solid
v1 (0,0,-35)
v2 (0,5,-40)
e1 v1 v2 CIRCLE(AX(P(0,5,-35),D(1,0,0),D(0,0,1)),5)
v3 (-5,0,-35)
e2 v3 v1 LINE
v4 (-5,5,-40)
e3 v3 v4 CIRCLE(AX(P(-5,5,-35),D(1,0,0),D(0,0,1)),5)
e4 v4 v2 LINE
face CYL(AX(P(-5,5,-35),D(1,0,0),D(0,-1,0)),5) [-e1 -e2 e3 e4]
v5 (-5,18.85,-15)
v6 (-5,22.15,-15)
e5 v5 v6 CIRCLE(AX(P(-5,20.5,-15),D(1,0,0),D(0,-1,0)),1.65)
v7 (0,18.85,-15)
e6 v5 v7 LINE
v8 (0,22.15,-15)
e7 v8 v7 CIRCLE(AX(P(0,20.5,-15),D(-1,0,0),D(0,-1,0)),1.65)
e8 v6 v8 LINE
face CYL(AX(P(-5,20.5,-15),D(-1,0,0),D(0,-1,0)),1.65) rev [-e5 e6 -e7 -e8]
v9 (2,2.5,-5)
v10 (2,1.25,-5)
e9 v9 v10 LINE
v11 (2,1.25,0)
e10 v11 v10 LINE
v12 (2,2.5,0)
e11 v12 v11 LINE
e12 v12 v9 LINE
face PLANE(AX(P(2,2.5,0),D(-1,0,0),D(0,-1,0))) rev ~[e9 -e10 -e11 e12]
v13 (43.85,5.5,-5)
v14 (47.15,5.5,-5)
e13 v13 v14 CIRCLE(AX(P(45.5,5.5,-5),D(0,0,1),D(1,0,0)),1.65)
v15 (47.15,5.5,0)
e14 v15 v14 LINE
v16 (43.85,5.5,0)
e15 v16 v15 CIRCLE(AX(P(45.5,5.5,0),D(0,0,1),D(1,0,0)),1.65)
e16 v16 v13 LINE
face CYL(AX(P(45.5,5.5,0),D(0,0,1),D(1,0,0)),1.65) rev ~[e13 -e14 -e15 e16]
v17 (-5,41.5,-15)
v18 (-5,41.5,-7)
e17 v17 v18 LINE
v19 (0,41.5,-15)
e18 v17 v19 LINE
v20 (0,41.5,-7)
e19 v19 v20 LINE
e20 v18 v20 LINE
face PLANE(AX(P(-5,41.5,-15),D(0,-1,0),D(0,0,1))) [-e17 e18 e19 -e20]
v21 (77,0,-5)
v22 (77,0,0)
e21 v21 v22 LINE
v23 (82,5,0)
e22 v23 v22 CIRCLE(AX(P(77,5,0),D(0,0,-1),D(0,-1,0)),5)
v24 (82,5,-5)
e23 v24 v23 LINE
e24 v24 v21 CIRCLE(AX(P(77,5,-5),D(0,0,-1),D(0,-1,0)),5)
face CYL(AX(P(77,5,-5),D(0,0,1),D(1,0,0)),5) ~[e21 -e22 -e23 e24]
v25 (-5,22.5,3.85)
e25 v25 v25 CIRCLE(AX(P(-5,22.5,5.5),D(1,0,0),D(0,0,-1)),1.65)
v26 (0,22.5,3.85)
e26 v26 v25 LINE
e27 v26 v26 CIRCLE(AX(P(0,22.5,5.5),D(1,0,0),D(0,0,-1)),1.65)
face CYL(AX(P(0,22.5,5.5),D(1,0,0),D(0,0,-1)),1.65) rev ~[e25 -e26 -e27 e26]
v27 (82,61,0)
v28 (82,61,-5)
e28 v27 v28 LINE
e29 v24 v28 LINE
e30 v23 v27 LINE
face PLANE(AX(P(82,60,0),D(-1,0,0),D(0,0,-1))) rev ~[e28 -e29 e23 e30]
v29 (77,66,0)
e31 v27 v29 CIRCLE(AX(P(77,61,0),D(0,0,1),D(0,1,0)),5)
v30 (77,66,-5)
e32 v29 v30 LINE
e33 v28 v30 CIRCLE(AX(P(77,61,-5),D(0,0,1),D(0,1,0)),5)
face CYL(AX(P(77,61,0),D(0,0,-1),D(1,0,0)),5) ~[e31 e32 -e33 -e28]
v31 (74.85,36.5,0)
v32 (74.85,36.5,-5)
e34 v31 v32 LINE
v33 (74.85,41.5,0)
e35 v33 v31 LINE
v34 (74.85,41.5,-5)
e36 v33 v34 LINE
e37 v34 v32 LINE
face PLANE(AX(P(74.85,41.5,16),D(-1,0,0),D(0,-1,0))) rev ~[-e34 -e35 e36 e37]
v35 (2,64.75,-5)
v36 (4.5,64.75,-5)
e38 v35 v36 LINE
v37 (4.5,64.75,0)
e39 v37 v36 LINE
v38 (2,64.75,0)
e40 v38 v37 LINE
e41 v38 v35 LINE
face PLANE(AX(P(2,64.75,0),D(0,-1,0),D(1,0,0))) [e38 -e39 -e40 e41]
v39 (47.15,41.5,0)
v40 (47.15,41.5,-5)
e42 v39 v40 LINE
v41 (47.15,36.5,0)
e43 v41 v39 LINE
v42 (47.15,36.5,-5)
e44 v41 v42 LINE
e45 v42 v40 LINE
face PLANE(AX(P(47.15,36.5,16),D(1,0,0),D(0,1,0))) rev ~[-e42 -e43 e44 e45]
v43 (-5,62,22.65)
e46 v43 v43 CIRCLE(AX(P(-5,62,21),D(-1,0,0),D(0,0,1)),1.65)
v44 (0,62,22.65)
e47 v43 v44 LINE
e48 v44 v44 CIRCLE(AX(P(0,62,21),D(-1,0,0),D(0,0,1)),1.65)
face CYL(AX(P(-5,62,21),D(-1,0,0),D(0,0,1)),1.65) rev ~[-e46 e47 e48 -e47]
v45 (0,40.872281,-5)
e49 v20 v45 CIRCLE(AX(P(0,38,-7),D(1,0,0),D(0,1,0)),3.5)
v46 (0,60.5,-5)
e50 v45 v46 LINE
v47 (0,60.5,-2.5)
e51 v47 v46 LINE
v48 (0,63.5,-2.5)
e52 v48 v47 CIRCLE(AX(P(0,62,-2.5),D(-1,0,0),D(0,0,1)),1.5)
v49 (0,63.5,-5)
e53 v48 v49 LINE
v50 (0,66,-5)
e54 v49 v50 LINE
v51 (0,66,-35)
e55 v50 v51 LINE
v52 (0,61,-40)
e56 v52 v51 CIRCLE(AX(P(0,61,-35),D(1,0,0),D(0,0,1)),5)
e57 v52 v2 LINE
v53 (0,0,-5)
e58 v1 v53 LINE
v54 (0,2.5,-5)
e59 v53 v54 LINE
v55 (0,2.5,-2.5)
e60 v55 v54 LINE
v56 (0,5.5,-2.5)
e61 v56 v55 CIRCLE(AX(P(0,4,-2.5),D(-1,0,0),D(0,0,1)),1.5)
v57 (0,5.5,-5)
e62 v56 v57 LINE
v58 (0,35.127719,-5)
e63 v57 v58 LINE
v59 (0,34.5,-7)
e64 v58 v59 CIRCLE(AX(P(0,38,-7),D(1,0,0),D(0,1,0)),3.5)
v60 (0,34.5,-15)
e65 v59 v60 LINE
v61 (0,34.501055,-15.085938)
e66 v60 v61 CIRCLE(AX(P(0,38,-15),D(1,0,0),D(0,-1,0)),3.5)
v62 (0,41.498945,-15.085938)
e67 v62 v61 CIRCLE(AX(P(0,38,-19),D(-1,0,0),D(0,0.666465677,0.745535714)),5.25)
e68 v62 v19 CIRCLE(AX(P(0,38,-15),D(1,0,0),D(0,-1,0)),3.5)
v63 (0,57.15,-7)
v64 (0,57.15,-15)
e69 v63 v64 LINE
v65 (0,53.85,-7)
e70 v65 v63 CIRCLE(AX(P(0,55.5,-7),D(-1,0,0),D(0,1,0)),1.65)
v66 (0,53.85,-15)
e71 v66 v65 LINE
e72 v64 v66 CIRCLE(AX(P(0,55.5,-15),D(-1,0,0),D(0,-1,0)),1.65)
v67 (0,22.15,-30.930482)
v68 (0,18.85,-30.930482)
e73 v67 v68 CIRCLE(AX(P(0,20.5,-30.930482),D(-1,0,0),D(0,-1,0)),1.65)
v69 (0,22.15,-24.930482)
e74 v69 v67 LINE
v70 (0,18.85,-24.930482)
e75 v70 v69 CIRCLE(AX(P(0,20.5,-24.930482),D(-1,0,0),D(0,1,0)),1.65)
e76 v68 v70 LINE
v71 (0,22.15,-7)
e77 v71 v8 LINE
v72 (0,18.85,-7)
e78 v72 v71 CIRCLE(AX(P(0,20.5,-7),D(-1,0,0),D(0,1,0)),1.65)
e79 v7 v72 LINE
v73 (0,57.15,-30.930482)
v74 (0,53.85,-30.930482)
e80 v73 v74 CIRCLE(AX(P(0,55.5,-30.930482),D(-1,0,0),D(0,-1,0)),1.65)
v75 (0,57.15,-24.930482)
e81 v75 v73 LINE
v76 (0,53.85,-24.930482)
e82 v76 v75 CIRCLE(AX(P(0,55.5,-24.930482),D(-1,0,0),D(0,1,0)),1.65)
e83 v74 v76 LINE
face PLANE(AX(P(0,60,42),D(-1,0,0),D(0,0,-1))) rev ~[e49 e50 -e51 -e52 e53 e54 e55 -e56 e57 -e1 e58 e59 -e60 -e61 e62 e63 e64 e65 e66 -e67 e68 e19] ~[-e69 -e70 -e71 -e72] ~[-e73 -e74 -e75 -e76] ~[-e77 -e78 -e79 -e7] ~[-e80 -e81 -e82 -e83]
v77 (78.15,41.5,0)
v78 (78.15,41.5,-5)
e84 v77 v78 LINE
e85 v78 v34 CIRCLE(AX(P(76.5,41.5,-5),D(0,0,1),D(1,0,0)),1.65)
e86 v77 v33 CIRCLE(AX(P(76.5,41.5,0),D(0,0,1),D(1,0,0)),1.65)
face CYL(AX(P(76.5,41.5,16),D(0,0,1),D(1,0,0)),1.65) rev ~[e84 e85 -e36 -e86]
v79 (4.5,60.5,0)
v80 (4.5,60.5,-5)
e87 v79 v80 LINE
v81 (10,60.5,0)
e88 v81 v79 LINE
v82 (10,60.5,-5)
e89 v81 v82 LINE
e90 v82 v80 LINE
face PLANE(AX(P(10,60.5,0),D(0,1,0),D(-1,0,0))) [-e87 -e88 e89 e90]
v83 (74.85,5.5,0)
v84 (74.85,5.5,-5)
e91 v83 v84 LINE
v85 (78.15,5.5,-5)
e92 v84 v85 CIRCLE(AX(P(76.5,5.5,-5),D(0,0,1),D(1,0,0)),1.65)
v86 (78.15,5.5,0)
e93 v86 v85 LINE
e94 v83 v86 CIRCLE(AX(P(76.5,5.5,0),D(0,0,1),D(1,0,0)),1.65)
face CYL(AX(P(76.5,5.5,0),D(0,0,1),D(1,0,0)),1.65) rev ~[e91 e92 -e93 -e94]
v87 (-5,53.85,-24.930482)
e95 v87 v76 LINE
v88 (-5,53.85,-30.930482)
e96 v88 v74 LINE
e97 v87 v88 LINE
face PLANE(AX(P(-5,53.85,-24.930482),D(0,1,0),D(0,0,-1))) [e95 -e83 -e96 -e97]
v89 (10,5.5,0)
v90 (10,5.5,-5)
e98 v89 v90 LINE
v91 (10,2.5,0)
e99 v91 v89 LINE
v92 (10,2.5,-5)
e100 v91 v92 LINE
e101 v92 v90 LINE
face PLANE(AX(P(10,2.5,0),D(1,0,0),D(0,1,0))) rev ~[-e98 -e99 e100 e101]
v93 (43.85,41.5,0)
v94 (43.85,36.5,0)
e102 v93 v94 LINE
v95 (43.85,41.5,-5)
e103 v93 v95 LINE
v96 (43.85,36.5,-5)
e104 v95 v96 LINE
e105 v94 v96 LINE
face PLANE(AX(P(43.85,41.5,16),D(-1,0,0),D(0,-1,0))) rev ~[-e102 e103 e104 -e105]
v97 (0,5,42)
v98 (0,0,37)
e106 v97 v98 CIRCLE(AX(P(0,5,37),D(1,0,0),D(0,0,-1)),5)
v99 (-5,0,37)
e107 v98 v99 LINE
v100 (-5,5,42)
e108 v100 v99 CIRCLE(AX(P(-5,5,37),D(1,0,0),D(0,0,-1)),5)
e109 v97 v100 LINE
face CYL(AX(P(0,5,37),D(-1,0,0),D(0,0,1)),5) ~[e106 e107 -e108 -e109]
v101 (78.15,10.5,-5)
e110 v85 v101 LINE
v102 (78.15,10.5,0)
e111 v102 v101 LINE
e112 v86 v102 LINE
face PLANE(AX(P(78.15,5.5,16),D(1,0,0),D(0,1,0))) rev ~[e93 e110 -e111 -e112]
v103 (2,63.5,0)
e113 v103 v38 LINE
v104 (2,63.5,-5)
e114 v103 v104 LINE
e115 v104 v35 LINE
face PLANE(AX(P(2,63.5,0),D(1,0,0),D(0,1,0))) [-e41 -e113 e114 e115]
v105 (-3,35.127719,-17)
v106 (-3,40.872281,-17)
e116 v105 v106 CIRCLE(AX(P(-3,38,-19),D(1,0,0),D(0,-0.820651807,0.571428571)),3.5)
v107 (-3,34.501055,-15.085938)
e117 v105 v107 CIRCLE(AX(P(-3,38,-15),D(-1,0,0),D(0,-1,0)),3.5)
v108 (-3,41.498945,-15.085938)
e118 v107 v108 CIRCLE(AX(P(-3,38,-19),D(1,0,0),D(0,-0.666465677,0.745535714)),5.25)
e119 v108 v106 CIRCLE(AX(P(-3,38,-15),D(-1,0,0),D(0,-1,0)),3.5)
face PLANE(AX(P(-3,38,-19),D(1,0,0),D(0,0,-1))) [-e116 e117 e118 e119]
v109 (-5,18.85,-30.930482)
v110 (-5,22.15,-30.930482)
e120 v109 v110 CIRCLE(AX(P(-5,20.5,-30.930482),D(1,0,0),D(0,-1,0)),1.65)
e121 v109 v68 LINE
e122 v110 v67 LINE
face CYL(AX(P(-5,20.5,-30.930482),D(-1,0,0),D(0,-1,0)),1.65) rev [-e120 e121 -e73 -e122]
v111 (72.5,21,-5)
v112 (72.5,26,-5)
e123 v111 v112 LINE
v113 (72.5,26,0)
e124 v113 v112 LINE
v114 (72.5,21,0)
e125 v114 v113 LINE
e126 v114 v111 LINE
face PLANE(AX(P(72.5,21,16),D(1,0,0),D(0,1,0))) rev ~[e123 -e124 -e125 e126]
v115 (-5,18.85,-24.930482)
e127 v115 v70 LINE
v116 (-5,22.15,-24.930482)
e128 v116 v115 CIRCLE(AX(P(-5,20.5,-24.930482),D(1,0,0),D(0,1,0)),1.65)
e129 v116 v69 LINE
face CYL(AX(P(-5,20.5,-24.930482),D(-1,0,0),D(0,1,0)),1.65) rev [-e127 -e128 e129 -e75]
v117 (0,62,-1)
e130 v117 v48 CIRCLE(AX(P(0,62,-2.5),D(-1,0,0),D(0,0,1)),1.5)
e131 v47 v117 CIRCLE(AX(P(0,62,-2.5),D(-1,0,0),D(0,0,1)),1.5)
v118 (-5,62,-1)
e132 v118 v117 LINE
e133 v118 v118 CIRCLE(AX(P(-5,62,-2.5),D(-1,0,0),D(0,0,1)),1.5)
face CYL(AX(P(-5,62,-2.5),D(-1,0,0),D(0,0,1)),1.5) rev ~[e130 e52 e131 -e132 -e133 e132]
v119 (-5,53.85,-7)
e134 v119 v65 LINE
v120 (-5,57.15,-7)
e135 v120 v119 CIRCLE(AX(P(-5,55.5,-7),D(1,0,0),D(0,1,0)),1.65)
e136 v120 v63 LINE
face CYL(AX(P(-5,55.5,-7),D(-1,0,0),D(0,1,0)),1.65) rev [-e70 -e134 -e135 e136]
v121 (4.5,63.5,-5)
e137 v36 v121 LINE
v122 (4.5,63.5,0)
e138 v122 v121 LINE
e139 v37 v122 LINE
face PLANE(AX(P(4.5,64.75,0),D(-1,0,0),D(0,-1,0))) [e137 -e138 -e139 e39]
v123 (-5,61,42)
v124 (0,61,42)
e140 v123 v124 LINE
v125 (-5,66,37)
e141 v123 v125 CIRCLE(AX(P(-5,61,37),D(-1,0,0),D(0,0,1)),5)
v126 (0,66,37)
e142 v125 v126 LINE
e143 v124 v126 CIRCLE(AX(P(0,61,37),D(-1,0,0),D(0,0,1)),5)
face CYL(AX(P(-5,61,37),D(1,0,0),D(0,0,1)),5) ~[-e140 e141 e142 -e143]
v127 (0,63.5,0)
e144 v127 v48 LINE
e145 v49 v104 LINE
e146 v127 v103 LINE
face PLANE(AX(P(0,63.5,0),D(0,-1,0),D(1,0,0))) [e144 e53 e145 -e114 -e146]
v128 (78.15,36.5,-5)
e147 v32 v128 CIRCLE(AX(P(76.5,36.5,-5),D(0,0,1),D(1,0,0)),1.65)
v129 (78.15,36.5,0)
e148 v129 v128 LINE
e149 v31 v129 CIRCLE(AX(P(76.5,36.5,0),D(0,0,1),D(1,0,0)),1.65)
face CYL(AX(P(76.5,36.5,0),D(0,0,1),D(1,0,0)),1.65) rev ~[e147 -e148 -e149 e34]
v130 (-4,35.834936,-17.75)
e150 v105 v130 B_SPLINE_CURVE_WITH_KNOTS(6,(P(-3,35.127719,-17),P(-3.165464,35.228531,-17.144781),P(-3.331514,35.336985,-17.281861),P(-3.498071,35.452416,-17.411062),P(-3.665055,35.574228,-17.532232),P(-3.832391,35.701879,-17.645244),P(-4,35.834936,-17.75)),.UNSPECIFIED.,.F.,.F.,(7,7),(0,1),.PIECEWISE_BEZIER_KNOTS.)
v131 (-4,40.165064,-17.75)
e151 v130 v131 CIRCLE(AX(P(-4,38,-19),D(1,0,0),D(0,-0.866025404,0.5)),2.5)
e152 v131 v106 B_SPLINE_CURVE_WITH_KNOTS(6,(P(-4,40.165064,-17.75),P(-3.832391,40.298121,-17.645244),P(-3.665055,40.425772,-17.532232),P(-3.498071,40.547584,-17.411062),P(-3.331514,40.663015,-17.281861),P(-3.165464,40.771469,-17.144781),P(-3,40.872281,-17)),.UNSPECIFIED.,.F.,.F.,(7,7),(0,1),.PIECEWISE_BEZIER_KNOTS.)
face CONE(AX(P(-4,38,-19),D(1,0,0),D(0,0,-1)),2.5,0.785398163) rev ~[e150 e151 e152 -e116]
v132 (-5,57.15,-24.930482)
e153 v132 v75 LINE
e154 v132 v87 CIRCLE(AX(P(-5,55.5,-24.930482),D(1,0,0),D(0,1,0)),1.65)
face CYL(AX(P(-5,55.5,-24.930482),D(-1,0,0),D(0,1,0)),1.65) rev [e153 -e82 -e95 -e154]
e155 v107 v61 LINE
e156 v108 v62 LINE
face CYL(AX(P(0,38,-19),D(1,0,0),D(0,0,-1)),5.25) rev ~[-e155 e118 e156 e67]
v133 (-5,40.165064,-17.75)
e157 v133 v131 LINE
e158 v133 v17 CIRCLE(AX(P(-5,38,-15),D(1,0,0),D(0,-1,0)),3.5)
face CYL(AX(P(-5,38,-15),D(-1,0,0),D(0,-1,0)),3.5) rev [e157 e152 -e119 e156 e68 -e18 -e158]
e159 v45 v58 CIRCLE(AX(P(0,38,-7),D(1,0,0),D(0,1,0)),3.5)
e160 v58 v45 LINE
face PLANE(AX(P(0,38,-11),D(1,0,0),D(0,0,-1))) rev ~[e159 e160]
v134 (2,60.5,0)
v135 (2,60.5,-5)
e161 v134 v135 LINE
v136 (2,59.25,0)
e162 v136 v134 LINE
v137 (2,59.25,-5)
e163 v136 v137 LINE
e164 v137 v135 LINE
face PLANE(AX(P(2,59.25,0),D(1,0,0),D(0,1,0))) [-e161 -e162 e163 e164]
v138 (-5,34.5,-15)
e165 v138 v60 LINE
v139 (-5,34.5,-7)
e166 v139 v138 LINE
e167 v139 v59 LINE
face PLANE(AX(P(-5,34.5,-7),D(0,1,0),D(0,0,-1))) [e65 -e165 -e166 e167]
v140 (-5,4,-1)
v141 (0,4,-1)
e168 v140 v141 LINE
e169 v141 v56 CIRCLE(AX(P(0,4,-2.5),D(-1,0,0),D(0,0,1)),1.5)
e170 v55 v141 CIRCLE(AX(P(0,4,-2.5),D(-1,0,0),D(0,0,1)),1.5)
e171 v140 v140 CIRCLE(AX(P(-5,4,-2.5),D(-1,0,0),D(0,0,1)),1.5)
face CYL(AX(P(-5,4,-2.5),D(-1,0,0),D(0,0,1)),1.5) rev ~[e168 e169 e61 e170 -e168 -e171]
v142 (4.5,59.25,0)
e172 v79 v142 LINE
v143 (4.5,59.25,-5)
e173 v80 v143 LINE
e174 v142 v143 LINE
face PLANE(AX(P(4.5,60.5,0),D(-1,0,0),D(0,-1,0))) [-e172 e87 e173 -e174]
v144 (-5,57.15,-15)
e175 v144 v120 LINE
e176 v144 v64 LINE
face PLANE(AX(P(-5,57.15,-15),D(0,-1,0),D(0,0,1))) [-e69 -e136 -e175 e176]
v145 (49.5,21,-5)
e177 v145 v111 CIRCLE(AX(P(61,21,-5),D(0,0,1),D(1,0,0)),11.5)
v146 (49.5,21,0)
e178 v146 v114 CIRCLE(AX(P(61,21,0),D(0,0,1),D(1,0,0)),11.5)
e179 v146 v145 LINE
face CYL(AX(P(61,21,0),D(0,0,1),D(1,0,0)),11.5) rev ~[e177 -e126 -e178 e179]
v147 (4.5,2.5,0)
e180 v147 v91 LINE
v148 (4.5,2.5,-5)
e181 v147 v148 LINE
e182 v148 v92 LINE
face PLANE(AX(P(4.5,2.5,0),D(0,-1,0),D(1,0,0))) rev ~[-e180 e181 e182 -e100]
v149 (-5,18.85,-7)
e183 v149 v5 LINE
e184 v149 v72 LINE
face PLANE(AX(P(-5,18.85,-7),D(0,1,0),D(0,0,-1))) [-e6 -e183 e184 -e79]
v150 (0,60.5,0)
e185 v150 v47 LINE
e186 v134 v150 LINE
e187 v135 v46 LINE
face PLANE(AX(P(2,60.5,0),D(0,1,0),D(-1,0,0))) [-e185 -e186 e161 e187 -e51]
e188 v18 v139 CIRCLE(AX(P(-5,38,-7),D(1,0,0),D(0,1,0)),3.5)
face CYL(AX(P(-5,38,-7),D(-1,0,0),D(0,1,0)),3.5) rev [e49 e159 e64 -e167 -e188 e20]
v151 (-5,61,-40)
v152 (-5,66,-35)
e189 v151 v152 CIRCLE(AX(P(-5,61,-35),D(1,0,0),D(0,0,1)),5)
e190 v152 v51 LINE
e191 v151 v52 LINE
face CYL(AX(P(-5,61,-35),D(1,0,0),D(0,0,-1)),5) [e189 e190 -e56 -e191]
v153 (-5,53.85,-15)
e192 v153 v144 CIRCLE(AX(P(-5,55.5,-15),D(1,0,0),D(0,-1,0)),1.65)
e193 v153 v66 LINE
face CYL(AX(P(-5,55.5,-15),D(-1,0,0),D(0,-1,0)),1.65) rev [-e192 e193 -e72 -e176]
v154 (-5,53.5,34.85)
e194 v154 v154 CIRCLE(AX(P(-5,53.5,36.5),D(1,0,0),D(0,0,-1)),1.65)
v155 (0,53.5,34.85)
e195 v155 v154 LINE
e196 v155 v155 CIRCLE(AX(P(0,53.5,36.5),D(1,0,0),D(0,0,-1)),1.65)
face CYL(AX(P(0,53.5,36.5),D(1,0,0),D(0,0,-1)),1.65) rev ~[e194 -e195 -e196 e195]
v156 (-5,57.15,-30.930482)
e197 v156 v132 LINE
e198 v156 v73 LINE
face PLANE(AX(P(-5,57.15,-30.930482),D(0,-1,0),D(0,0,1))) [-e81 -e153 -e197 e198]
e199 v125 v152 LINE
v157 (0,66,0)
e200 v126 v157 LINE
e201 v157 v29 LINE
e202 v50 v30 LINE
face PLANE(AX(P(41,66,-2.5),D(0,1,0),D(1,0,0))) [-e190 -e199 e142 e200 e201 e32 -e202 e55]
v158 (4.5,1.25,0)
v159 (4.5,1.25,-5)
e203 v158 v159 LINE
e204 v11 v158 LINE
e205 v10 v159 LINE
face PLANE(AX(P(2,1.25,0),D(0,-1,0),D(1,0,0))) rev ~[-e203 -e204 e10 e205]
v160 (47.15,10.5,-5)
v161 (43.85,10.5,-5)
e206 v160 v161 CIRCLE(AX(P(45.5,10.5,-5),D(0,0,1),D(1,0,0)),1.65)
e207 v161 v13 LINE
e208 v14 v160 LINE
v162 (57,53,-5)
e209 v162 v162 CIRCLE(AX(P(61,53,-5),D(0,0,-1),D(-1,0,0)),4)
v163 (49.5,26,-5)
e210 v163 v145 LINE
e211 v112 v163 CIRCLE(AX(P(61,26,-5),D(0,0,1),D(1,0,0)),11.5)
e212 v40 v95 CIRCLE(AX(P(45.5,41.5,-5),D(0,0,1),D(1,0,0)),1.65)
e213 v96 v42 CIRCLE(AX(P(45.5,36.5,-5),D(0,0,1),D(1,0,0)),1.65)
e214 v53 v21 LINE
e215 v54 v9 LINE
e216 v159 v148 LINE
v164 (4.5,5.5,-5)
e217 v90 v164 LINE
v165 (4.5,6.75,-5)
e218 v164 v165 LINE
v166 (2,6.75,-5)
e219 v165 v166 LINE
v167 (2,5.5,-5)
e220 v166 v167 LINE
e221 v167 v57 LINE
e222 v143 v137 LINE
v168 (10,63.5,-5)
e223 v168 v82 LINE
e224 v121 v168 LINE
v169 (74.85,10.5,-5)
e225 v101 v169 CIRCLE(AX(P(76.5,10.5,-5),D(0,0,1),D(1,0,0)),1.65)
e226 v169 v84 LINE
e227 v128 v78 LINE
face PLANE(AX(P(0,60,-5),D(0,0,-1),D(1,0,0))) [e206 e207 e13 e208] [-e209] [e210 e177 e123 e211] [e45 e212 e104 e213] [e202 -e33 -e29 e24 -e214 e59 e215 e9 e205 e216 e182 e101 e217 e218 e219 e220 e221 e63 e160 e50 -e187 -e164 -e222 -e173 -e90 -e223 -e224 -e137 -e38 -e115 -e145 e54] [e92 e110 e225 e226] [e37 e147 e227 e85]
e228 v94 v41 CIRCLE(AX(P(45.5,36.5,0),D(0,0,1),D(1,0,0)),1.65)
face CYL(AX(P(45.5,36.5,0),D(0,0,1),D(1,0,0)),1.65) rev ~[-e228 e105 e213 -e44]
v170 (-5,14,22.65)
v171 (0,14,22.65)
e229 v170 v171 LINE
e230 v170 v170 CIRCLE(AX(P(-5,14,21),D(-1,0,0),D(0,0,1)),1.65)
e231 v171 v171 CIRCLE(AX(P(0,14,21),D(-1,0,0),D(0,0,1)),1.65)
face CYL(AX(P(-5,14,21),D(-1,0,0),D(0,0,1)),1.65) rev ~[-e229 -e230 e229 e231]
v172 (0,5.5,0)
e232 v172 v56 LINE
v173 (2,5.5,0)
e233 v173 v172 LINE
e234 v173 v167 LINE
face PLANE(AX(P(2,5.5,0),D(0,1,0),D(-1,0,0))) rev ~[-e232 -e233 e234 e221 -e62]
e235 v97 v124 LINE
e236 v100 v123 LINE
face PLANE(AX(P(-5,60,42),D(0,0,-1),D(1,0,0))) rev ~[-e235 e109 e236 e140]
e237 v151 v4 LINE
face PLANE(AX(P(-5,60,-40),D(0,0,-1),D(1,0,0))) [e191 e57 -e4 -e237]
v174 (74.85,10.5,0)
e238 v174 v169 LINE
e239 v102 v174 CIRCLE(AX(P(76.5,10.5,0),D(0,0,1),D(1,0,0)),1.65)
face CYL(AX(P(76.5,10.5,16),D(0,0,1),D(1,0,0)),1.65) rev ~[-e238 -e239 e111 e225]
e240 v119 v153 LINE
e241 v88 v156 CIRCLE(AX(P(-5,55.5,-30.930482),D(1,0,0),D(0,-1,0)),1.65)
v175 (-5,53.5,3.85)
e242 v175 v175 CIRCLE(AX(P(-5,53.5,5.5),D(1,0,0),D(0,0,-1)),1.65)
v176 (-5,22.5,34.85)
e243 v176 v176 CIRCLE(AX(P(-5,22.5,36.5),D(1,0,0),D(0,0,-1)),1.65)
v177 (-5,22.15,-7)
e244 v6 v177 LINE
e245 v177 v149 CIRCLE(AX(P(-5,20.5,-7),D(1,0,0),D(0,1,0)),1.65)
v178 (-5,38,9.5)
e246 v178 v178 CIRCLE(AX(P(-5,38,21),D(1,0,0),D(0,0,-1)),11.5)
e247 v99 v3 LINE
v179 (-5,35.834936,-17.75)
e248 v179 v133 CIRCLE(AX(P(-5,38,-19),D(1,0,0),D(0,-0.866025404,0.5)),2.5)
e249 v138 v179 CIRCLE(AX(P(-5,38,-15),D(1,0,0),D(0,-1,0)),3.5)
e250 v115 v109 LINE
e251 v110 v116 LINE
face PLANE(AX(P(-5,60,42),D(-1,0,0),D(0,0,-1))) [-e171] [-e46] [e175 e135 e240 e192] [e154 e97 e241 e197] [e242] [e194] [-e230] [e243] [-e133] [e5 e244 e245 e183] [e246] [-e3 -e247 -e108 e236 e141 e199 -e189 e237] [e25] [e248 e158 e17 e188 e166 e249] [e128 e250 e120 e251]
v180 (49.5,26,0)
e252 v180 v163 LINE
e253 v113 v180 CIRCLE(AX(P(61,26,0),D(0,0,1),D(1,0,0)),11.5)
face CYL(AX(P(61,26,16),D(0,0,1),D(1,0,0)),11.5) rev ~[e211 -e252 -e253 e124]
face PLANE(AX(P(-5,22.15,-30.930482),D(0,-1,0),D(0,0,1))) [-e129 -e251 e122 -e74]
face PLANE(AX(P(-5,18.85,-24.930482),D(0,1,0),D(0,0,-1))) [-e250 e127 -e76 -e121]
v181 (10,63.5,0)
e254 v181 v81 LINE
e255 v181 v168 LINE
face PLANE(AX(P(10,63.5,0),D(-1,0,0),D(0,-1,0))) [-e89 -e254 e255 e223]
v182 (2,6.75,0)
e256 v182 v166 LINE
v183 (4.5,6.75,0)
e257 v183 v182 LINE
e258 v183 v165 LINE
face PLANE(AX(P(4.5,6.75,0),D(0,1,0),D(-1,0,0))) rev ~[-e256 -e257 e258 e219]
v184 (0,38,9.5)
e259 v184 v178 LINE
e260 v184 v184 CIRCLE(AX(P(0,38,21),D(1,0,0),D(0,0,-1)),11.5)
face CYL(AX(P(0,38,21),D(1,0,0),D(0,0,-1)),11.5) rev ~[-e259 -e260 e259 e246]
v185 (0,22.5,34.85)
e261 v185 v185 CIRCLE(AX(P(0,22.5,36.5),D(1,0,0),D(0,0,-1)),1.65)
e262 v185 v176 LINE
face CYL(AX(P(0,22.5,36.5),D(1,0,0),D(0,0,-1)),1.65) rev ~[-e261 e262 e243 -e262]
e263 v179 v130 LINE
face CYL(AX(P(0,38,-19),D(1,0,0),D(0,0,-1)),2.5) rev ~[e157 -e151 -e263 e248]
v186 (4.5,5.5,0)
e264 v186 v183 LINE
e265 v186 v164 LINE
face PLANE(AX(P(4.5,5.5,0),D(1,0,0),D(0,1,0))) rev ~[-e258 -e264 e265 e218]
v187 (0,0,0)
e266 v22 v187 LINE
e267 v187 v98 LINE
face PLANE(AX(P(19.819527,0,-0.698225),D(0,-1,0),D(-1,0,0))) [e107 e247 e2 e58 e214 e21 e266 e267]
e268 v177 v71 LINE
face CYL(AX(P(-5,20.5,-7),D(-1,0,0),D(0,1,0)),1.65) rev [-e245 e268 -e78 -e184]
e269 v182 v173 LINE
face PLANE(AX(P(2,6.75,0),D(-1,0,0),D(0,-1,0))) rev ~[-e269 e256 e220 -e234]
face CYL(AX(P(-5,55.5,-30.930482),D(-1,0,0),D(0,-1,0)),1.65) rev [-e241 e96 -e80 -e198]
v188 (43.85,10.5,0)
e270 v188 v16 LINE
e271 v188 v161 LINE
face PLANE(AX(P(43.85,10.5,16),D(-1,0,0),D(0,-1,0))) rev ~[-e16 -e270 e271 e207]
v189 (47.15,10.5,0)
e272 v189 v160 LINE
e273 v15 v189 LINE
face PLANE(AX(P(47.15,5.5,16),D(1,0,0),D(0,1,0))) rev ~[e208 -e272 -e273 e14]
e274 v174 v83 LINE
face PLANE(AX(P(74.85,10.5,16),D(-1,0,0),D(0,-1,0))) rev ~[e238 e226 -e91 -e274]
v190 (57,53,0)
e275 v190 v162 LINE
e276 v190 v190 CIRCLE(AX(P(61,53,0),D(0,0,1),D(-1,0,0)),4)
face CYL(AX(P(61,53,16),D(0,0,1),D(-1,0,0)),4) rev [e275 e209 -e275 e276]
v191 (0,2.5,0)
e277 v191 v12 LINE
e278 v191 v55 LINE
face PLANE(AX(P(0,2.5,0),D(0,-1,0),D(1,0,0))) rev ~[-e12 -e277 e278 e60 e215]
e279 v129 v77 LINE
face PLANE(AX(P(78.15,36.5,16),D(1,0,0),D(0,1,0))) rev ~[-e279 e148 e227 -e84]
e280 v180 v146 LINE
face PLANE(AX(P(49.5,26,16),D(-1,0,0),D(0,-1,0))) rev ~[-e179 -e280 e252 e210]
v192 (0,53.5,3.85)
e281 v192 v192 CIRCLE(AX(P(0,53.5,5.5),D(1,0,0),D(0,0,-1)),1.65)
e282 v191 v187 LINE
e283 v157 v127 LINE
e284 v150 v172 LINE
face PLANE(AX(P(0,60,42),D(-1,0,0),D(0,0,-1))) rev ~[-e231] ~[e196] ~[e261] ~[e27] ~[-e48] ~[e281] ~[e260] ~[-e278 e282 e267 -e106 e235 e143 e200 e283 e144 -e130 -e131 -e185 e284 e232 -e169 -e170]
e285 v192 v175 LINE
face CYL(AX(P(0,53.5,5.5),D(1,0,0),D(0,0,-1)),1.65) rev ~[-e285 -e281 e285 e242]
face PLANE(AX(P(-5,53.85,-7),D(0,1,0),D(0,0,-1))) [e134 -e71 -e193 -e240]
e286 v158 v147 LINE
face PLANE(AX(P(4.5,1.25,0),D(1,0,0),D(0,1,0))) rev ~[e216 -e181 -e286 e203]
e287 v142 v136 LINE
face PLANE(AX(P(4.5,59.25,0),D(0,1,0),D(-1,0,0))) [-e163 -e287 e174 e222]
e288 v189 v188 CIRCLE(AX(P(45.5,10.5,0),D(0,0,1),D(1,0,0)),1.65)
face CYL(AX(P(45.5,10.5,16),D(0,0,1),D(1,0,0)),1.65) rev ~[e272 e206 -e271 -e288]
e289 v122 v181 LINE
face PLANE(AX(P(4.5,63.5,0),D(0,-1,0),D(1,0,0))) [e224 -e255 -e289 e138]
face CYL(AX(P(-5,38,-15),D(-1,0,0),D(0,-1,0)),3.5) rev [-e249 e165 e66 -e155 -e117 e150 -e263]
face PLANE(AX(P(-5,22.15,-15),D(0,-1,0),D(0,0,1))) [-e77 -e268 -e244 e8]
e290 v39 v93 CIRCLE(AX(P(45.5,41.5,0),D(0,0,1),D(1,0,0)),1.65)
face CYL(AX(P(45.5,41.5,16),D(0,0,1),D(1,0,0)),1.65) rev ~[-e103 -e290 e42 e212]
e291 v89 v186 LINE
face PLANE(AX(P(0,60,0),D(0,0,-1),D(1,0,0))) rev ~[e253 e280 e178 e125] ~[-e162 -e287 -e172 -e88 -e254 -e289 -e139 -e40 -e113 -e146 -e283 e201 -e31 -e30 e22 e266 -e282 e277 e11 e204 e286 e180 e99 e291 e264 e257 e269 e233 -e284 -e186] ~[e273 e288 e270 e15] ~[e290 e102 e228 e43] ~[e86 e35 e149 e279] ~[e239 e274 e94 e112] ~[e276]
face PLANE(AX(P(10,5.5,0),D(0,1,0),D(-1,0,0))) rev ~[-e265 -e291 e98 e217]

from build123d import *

# Parameters (mm, degrees)
BOSS_EXTRUDE1_DEPTH = 60
SKETCH2_R           = 1.65
SKETCH2_R_2         = 11.5
CUT_EXTRUDE1_DEPTH  = 60
SKETCH3_R           = 1.65
SKETCH3_R_2         = 11.5
CUT_EXTRUDE2_DEPTH  = 60
CUT_EXTRUDE3_START  = -21
SKETCH4_R           = 4
CUT_EXTRUDE3_DEPTH  = 21
SKETCH5_R           = 2.5
CUT_EXTRUDE4_DEPTH  = 6
CUT_EXTRUDE5_DEPTH  = 10
SKETCH9_R           = 5.25
CUT_EXTRUDE7_DEPTH  = 3
CHAMFER1_SIZE       = 1
SKETCH10_W          = 5
SKETCH10_H          = 82
BOSS_EXTRUDE2_DEPTH = 6
FILLET1_R           = 5
SKETCH11_R          = 1.65
CUT_EXTRUDE8_DEPTH  = 10
CUT_EXTRUDE9_DEPTH  = 5
SKETCH13_W          = 82
SKETCH13_H          = 5
BOSS_EXTRUDE3_DEPTH = 6
FILLET2_R           = 5
SKETCH14_R          = 1.5
CUT_EXTRUDE10_DEPTH = 5
CUT_EXTRUDE11_DEPTH = 5


with BuildPart() as part:
    # Sketch1 → Boss-Extrude1 (new body)
    with BuildSketch(Plane(origin=(0, 0, 0), x_dir=(1, 0, 0), z_dir=(0, 1, 0))):
        Polygon((0, 0), (0, -42), (-5, -42), (-5, 40), (0, 40), (0, 5), (82, 5), (82, 0), align=None)
    extrude(amount=BOSS_EXTRUDE1_DEPTH)

    # Sketch2 → Cut-Extrude1 (cut)
    with BuildSketch(Plane.XY):
        with Locations((45.5, 36.5)):
            Circle(SKETCH2_R)
        with Locations((76.5, 36.5)):
            Circle(SKETCH2_R)
        with Locations((76.5, 5.5)):
            Circle(SKETCH2_R)
        with Locations((45.5, 5.5)):
            Circle(SKETCH2_R)
        with Locations((61, 21)):
            Circle(SKETCH2_R_2)
    extrude(amount=-CUT_EXTRUDE1_DEPTH, mode=Mode.SUBTRACT)

    # Sketch3 → Cut-Extrude2 (cut)
    with BuildSketch(Plane(origin=(0, 0, 0), x_dir=(0, 0, -1), z_dir=(1, 0, 0))):
        with Locations((-36.5, 53.5)):
            Circle(SKETCH3_R)
        with Locations((-5.5, 53.5)):
            Circle(SKETCH3_R)
        with Locations((-5.5, 22.5)):
            Circle(SKETCH3_R)
        with Locations((-36.5, 22.5)):
            Circle(SKETCH3_R)
        with Locations((-21, 38)):
            Circle(SKETCH3_R_2)
    extrude(amount=-CUT_EXTRUDE2_DEPTH, mode=Mode.SUBTRACT)

    # Sketch4 → Cut-Extrude3 (cut)
    with BuildSketch(Plane(origin=(0, 0, -5), x_dir=(-1, 0, 0), z_dir=(0, 0, -1)).offset(CUT_EXTRUDE3_START)):
        with Locations((-61, 53)):
            Circle(SKETCH4_R)
        with BuildLine():
            Line((-47.15, 36.5), (-47.15, 41.5))
            ThreePointArc((-47.15, 41.5), (-45.5, 43.15), (-43.85, 41.5))
            Line((-43.85, 41.5), (-43.85, 36.5))
            ThreePointArc((-43.85, 36.5), (-45.5, 34.85), (-47.15, 36.5))
        make_face()
        with BuildLine():
            Line((-78.15, 36.5), (-78.15, 41.5))
            ThreePointArc((-78.15, 41.5), (-76.5, 43.15), (-74.85, 41.5))
            Line((-74.85, 41.5), (-74.85, 36.5))
            ThreePointArc((-74.85, 36.5), (-76.5, 34.85), (-78.15, 36.5))
        make_face()
        with BuildLine():
            Line((-78.15, 5.5), (-78.15, 10.5))
            ThreePointArc((-78.15, 10.5), (-76.5, 12.15), (-74.85, 10.5))
            Line((-74.85, 10.5), (-74.85, 5.5))
            ThreePointArc((-74.85, 5.5), (-76.5, 3.85), (-78.15, 5.5))
        make_face()
        with BuildLine():
            Line((-47.15, 5.5), (-47.15, 10.5))
            ThreePointArc((-47.15, 10.5), (-45.5, 12.15), (-43.85, 10.5))
            Line((-43.85, 10.5), (-43.85, 5.5))
            ThreePointArc((-43.85, 5.5), (-45.5, 3.85), (-47.15, 5.5))
        make_face()
        with BuildLine():
            Line((-72.5, 21), (-72.5, 26))
            ThreePointArc((-72.5, 26), (-61, 37.5), (-49.5, 26))
            Line((-49.5, 26), (-49.5, 21))
            ThreePointArc((-49.5, 21), (-61, 9.5), (-72.5, 21))
        make_face()
    extrude(amount=CUT_EXTRUDE3_DEPTH, mode=Mode.SUBTRACT)

    # Sketch5 → Cut-Extrude4 (cut)
    with BuildSketch(Plane(origin=(0, 0, 0), x_dir=(0, 0, -1), z_dir=(1, 0, 0))):
        with Locations((19, 38)):
            Circle(SKETCH5_R)
    extrude(amount=-CUT_EXTRUDE4_DEPTH, mode=Mode.SUBTRACT)

    # Sketch7 → Cut-Extrude5 (cut)
    with BuildSketch(Plane.ZY.offset(5)):
        with BuildLine():
            Line((-7, 53.85), (-15, 53.85))
            ThreePointArc((-15, 53.85), (-16.65, 55.5), (-15, 57.15))
            Line((-15, 57.15), (-7, 57.15))
            ThreePointArc((-7, 57.15), (-5.35, 55.5), (-7, 53.85))
        make_face()
        with BuildLine():
            Line((-7, 18.85), (-15, 18.85))
            ThreePointArc((-15, 18.85), (-16.65, 20.5), (-15, 22.15))
            Line((-15, 22.15), (-7, 22.15))
            ThreePointArc((-7, 22.15), (-5.35, 20.5), (-7, 18.85))
        make_face()
        with BuildLine():
            Line((-30.930481749, 57.15), (-24.930481749, 57.15))
            ThreePointArc((-24.930481749, 57.15), (-23.280481749, 55.5), (-24.930481749, 53.85))
            Line((-24.930481749, 53.85), (-30.930481749, 53.85))
            ThreePointArc((-30.930481749, 53.85), (-32.580481749, 55.5), (-30.930481749, 57.15))
        make_face()
        with BuildLine():
            Line((-30.930481749, 22.15), (-24.930481749, 22.15))
            ThreePointArc((-24.930481749, 22.15), (-23.280481749, 20.5), (-24.930481749, 18.85))
            Line((-24.930481749, 18.85), (-30.930481749, 18.85))
            ThreePointArc((-30.930481749, 18.85), (-32.580481749, 20.5), (-30.930481749, 22.15))
        make_face()
    extrude(amount=-CUT_EXTRUDE5_DEPTH, mode=Mode.SUBTRACT)

    # Sketch9 → Cut-Extrude7 (cut)
    with BuildSketch(Plane(origin=(0, 0, 0), x_dir=(0, 0, -1), z_dir=(1, 0, 0))):
        with Locations((19, 38)):
            Circle(SKETCH9_R)
    extrude(amount=-CUT_EXTRUDE7_DEPTH, mode=Mode.SUBTRACT)

    # Chamfer1
    chamfer1_edges = [part.edges().sort_by_distance(p)[0] for p in [
        (-3, 38, -16.5),
    ]]
    chamfer(chamfer1_edges, length=CHAMFER1_SIZE)

    # Sketch10 → Boss-Extrude2 (add)
    with BuildSketch(Plane(origin=(0, 60, 0), x_dir=(1, 0, 0), z_dir=(0, 1, 0))):
        with Locations((-2.5, -1)):
            Rectangle(SKETCH10_W, SKETCH10_H)
    extrude(amount=BOSS_EXTRUDE2_DEPTH)

    # Fillet1
    fillet1_edges = [part.edges().sort_by_distance(p)[0] for p in [
        (82, 0, -2.5),
        (-2.5, 66, 42),
        (-2.5, 66, -40),
        (-2.5, 0, 42),
        (-2.5, 0, -40),
    ]]
    fillet(fillet1_edges, radius=FILLET1_R)

    # Sketch11 → Cut-Extrude8 (cut)
    with BuildSketch(Plane.ZY.offset(5)):
        with Locations((21, 62)):
            Circle(SKETCH11_R)
        with Locations((21, 14)):
            Circle(SKETCH11_R)
    extrude(amount=-CUT_EXTRUDE8_DEPTH, mode=Mode.SUBTRACT)

    # Sketch12 → Cut-Extrude9 (cut)
    with BuildSketch(Plane.ZY.offset(5)):
        with BuildLine():
            Line((-15, 41.5), (-7, 41.5))
            ThreePointArc((-7, 41.5), (-3.5, 38), (-7, 34.5))
            Line((-7, 34.5), (-15, 34.5))
            ThreePointArc((-15, 34.5), (-18.5, 38), (-15, 41.5))
        make_face()
    extrude(amount=-CUT_EXTRUDE9_DEPTH, mode=Mode.SUBTRACT)

    # Sketch13 → Boss-Extrude3 (add)
    with BuildSketch(Plane(origin=(0, 60, 0), x_dir=(1, 0, 0), z_dir=(0, 1, 0))):
        with Locations((41, 2.5)):
            Rectangle(SKETCH13_W, SKETCH13_H)
    extrude(amount=BOSS_EXTRUDE3_DEPTH)

    # Fillet2
    fillet2_edges = [part.edges().sort_by_distance(p)[0] for p in [
        (82, 66, -2.5),
    ]]
    fillet(fillet2_edges, radius=FILLET2_R)

    # Sketch14 → Cut-Extrude10 (cut)
    with BuildSketch(Plane.ZY.offset(5)):
        with Locations((-2.5, 62)):
            Circle(SKETCH14_R)
        with Locations((-2.5, 4)):
            Circle(SKETCH14_R)
    extrude(amount=-CUT_EXTRUDE10_DEPTH, mode=Mode.SUBTRACT)

    # Sketch15 → Cut-Extrude11 (cut)
    with BuildSketch(Plane.XY):
        Polygon((0, 63.5), (2, 63.5), (2, 64.75), (4.5, 64.75), (4.5, 63.5), (10, 63.5), (10, 60.5), (4.5, 60.5), (4.5, 59.25), (2, 59.25), (2, 60.5), (0, 60.5), align=None)
        Polygon((4.5, 2.5), (10, 2.5), (10, 5.5), (4.5, 5.5), (4.5, 6.75), (2, 6.75), (2, 5.5), (0, 5.5), (0, 2.5), (2, 2.5), (2, 1.25), (4.5, 1.25), align=None)
    extrude(amount=-CUT_EXTRUDE11_DEPTH, mode=Mode.SUBTRACT)


solid = part.part
